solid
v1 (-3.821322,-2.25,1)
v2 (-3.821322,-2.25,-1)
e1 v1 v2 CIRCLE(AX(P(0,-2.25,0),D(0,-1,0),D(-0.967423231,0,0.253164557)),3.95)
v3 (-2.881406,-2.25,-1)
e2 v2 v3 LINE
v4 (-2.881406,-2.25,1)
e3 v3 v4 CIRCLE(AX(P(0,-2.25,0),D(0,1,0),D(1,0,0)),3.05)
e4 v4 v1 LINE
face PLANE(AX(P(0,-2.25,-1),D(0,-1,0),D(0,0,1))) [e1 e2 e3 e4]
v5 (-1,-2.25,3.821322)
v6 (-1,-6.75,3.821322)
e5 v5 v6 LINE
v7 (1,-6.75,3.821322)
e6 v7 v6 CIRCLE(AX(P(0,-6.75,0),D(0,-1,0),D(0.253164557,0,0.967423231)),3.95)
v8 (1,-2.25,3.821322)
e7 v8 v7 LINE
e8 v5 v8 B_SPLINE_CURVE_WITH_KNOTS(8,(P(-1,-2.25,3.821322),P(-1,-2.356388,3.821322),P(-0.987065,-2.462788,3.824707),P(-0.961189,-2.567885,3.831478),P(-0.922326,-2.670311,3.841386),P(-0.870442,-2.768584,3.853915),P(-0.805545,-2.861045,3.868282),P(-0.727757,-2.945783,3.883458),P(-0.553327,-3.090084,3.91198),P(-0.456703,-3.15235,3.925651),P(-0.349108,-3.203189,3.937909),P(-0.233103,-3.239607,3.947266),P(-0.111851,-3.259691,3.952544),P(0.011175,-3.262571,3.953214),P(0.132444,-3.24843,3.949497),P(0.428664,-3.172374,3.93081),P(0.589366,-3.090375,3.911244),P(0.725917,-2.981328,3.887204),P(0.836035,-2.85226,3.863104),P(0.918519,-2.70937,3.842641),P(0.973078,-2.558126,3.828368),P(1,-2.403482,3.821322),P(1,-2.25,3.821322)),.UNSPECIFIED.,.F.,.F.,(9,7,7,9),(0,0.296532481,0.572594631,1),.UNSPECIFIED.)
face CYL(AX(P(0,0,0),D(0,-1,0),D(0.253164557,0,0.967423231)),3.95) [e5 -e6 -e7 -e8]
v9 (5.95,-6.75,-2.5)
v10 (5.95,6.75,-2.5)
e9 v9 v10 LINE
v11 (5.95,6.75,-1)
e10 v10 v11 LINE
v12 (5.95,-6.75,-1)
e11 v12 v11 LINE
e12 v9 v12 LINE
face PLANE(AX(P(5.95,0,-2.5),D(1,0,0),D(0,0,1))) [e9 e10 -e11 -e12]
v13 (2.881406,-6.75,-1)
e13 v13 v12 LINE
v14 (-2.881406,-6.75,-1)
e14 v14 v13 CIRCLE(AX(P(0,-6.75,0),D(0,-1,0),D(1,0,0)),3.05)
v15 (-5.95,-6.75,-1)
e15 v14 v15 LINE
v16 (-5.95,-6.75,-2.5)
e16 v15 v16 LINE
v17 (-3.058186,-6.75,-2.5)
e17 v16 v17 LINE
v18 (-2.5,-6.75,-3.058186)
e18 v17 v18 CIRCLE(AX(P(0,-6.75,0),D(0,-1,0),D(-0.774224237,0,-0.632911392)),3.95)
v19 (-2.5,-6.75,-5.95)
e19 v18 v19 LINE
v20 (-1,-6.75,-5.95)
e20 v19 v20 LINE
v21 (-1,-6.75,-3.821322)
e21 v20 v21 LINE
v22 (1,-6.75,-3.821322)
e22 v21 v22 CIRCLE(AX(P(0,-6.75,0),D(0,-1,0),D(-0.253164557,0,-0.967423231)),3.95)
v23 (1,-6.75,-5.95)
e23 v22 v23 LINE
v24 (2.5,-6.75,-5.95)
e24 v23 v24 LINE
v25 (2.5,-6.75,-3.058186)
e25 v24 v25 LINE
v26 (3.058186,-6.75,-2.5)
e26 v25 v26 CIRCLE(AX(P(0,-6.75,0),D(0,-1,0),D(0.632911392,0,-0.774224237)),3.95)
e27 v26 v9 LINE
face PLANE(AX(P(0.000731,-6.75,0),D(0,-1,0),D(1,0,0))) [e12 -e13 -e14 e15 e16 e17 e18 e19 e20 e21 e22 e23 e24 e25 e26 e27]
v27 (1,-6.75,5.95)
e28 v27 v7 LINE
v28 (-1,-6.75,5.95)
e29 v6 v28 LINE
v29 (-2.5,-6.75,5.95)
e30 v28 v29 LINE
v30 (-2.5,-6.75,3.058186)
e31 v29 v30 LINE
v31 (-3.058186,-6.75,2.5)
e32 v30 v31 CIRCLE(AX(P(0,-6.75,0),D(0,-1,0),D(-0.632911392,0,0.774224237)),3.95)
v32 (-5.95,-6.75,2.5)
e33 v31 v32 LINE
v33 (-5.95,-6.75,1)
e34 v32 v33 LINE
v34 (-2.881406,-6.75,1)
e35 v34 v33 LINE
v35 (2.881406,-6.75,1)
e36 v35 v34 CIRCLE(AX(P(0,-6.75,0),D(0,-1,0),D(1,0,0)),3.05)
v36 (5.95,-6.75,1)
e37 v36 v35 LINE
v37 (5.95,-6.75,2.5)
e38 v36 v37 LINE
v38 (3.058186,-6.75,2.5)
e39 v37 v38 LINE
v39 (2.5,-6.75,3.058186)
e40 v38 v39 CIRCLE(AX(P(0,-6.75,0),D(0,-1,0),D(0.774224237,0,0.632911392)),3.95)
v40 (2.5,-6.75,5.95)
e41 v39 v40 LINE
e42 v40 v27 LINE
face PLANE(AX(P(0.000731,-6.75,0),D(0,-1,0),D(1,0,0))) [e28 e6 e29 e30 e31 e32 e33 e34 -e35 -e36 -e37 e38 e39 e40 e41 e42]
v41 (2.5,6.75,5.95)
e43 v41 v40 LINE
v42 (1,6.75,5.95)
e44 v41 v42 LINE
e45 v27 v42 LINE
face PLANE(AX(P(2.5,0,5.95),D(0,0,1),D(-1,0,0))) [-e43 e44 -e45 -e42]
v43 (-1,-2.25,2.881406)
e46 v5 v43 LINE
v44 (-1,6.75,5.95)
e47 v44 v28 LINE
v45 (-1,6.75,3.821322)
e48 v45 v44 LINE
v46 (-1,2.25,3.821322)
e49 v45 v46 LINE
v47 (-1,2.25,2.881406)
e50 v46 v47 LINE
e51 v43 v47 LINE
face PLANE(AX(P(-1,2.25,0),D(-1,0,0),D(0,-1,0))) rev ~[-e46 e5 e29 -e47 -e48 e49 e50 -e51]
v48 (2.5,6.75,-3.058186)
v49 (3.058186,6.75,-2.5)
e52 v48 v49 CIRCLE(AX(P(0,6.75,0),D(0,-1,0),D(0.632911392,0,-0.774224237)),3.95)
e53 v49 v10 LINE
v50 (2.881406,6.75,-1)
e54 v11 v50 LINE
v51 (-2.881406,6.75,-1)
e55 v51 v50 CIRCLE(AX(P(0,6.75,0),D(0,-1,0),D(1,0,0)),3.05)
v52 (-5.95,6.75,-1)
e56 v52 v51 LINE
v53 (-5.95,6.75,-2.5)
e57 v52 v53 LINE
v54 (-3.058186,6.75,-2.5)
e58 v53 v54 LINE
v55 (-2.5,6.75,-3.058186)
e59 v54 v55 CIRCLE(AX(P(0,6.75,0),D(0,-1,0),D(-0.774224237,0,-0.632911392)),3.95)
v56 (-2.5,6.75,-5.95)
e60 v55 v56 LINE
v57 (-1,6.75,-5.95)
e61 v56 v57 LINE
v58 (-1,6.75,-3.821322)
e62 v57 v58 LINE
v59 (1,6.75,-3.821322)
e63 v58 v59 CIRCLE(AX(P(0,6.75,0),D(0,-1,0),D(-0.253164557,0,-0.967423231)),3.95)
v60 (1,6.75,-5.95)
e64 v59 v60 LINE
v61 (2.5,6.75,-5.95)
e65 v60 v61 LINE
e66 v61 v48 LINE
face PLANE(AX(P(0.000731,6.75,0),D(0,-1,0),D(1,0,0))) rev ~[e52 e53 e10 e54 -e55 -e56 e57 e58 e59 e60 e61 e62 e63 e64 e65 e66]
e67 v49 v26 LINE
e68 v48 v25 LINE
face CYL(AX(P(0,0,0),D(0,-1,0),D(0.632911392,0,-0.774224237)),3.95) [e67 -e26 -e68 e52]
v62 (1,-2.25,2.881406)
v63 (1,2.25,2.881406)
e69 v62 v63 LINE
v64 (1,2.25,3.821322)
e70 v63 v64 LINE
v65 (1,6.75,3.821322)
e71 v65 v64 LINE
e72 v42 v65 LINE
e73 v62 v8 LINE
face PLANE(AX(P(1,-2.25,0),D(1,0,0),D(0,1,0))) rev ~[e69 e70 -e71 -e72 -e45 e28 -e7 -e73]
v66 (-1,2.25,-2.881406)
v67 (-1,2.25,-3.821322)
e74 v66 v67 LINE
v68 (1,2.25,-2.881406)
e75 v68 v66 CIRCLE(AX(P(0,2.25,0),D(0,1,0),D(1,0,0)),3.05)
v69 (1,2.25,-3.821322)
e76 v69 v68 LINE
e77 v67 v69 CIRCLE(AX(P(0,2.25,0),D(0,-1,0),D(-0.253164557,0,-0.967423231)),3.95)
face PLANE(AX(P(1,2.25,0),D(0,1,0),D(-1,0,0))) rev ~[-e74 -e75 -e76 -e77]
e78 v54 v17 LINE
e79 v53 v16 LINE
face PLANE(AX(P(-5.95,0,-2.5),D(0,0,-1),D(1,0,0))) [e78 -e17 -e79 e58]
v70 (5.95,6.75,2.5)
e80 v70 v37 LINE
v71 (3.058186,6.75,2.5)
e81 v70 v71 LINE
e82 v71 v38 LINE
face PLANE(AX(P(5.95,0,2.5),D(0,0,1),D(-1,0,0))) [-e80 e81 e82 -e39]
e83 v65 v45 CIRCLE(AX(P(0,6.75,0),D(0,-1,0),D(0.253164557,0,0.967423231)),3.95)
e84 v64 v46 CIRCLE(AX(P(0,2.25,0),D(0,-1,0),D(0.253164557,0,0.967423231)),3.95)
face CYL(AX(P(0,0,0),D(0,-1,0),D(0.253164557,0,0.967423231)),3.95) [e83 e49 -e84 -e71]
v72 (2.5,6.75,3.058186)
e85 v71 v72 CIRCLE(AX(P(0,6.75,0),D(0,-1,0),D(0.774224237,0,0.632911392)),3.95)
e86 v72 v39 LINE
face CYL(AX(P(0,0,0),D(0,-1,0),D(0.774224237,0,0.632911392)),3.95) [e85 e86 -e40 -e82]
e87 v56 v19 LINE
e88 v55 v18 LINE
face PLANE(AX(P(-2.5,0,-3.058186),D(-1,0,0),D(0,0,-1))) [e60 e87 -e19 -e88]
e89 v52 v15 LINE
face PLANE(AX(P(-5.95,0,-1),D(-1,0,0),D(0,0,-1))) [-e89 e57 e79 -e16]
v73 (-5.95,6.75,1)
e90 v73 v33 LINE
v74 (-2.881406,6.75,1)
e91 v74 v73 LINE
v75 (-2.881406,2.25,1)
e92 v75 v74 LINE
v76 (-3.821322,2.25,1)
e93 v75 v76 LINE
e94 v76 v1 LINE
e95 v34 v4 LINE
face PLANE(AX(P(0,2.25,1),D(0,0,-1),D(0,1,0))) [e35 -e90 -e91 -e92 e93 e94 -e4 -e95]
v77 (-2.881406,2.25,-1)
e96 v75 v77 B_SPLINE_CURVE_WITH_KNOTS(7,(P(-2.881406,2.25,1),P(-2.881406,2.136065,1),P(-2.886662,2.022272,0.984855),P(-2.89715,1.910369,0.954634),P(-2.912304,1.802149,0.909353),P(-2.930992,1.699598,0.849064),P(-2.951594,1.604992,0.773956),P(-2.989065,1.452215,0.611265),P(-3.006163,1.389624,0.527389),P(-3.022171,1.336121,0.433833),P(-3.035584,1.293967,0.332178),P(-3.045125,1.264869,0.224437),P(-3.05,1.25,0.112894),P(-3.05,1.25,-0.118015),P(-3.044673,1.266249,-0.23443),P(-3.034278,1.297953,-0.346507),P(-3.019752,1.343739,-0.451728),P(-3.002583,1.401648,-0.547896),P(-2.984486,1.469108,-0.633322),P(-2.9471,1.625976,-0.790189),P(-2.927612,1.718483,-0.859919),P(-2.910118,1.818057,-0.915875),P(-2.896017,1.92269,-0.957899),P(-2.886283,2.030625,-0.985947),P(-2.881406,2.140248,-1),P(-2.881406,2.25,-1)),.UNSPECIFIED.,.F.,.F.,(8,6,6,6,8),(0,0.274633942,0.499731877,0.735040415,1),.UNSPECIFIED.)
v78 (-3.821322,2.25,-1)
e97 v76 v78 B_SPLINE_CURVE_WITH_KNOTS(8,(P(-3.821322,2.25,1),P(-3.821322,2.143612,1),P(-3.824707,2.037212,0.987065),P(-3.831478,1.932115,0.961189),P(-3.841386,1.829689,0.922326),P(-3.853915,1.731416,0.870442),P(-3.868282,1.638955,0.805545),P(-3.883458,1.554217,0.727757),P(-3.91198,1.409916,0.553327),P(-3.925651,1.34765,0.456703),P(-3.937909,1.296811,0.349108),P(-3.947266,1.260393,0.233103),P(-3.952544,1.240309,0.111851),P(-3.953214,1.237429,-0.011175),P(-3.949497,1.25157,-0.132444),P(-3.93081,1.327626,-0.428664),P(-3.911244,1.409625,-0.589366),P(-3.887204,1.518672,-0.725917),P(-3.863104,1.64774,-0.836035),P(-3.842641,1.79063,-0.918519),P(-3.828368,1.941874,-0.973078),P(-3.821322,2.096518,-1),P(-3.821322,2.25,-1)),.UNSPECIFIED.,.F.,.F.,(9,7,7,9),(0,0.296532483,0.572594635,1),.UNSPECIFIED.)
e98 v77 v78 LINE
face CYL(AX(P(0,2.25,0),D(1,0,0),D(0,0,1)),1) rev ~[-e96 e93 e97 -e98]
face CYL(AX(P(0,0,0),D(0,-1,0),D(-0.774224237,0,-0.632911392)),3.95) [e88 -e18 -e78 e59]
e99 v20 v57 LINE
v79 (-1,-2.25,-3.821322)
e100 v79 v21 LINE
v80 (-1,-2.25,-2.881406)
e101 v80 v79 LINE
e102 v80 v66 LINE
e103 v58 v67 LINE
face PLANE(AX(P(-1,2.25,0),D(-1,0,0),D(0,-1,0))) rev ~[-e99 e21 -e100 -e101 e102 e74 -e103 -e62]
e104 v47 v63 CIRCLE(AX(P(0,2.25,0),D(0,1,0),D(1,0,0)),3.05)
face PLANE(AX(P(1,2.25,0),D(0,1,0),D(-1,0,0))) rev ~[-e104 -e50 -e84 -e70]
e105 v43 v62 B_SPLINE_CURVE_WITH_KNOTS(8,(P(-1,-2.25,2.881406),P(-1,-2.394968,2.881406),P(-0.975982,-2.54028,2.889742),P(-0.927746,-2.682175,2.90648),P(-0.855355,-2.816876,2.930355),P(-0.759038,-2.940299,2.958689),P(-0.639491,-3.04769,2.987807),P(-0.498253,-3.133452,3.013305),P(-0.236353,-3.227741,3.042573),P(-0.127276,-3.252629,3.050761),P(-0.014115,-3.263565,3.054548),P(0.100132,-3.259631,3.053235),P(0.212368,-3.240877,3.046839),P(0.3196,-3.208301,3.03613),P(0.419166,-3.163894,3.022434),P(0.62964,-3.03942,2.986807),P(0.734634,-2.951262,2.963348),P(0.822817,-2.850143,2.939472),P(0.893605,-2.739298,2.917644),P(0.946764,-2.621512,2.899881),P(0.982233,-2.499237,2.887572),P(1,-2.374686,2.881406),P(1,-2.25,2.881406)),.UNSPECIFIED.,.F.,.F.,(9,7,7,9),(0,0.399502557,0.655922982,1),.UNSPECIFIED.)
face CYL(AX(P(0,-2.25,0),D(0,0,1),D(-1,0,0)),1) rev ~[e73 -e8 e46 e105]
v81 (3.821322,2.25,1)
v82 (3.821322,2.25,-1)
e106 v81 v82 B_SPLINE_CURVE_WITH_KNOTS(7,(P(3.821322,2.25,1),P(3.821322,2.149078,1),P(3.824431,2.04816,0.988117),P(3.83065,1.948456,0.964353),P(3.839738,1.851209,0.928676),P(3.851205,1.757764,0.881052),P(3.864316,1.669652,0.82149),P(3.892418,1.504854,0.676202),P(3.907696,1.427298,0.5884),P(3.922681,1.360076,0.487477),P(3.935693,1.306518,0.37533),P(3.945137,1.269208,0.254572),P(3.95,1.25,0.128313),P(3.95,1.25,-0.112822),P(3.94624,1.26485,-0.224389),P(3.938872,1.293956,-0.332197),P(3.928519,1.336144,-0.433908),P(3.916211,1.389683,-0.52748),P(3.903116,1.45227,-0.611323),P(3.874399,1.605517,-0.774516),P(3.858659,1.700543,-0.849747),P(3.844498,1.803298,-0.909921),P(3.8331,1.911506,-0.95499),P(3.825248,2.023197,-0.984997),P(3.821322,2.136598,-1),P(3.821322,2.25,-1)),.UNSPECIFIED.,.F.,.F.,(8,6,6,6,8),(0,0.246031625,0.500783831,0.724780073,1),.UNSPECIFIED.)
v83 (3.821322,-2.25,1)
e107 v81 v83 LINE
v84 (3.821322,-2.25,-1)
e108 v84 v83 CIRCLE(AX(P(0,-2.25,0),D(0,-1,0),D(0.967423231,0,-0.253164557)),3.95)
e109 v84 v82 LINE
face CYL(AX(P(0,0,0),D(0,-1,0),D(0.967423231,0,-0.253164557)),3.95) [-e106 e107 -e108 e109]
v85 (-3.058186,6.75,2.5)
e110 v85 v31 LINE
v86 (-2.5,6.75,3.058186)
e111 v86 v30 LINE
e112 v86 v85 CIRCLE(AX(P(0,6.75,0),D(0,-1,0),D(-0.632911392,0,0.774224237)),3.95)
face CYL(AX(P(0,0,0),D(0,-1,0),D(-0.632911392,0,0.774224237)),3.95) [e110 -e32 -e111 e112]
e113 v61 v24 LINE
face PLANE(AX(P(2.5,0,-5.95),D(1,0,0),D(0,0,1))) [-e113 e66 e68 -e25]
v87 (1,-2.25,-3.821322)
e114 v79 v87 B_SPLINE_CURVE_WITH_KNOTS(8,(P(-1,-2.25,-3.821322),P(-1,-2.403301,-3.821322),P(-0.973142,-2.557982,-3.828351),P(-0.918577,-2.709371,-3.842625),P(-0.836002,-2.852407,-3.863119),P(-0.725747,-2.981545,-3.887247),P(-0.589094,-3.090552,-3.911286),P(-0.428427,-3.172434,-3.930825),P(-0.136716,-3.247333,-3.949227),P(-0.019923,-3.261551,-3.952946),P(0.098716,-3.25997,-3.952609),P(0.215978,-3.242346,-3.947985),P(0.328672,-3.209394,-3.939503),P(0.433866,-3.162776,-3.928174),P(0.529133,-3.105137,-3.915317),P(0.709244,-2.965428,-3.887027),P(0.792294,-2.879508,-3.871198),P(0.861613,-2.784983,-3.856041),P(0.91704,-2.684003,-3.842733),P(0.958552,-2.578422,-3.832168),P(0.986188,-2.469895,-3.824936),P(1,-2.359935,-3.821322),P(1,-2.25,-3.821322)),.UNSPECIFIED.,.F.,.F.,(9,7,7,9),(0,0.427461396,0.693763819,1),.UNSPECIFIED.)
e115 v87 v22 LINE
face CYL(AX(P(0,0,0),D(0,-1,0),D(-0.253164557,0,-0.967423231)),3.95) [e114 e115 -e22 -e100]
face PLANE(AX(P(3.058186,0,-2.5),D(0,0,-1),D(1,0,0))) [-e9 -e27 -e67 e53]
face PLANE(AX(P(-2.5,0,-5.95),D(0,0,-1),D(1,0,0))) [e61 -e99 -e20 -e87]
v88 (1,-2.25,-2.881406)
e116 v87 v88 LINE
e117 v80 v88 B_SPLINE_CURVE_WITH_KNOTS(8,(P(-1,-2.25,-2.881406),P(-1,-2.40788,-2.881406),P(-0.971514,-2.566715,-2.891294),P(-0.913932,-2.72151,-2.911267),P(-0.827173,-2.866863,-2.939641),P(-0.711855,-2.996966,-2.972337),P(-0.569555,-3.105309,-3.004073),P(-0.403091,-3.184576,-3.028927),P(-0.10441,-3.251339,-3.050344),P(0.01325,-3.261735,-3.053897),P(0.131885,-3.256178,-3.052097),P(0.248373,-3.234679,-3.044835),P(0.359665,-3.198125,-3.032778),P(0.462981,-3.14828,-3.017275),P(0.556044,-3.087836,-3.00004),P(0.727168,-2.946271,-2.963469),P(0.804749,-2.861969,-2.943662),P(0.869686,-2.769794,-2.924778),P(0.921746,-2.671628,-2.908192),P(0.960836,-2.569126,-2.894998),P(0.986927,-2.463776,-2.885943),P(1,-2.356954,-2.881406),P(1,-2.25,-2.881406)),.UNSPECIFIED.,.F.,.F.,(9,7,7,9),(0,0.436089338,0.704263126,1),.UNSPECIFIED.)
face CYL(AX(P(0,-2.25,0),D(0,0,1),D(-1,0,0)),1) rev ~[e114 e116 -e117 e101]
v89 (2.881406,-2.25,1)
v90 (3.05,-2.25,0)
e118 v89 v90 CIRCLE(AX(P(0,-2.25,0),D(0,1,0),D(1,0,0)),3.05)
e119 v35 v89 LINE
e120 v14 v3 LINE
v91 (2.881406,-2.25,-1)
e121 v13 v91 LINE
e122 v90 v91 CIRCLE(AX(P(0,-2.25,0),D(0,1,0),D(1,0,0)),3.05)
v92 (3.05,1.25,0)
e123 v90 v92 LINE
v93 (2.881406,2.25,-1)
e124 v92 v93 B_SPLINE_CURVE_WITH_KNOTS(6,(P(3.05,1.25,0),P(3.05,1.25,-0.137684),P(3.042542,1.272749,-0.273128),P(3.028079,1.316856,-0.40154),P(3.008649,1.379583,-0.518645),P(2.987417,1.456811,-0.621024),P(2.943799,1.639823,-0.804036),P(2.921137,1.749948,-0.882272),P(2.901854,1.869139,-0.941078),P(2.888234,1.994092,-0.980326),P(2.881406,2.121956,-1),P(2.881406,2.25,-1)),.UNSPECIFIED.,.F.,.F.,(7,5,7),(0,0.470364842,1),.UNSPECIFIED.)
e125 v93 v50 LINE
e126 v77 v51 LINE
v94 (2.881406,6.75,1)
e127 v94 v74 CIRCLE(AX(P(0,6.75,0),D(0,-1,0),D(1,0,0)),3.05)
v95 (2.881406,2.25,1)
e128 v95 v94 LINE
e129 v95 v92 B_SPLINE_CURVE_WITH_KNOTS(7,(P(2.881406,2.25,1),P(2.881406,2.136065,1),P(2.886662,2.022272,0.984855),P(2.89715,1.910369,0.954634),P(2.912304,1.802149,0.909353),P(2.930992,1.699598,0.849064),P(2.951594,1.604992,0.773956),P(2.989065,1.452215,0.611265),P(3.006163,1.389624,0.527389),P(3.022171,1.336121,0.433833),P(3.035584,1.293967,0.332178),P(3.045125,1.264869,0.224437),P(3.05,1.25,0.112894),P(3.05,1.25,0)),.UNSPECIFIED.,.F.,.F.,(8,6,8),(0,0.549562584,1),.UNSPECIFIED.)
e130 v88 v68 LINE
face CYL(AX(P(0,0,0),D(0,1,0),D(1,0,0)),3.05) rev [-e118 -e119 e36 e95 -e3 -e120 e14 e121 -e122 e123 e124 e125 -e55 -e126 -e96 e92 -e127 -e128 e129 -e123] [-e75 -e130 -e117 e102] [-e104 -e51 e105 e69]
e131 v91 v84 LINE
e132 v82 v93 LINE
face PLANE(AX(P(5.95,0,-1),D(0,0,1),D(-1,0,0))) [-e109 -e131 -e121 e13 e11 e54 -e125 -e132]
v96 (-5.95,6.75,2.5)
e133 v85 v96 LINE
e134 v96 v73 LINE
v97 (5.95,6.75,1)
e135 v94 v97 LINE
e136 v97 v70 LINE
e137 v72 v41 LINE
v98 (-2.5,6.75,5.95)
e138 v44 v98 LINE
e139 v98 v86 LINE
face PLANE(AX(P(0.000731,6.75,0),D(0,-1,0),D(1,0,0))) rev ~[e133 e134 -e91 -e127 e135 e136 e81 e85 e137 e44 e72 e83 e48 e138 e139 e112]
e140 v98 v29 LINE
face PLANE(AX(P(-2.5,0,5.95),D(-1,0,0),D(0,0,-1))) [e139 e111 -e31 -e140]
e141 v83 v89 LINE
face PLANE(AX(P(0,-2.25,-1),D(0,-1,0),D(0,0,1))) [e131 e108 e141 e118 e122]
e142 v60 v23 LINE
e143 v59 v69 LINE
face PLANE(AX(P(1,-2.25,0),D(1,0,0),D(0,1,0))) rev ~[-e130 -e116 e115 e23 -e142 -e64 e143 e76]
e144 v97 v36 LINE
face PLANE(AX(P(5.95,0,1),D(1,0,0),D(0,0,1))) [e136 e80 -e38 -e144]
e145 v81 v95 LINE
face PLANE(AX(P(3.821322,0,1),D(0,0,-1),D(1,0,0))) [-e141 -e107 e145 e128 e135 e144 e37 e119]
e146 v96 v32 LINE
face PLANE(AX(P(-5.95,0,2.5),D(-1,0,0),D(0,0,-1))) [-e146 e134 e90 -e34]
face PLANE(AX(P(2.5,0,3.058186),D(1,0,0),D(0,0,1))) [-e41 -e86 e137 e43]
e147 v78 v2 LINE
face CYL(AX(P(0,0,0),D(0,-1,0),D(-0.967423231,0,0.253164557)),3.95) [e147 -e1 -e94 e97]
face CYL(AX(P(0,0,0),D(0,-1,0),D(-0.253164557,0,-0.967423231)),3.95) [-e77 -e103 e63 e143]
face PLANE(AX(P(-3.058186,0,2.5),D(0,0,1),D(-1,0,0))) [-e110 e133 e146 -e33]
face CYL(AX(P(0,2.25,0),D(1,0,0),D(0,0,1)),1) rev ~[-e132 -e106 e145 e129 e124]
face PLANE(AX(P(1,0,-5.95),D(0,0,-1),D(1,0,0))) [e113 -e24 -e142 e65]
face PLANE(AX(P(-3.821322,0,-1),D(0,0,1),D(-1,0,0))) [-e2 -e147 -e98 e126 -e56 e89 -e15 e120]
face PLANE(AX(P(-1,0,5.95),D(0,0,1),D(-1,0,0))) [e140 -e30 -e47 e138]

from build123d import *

# Parameters (mm, degrees)
F3_R     = 3.05
F4_DEPTH = 6.75
F5_W     = 4.5
F5_H     = 2
F6_DEPTH = 5
F8_DEPTH = 12.5


with BuildPart() as f4:
    # F3 (on Front) → F4 (new body, symmetric)
    with BuildSketch(Plane.XZ):
        with BuildLine():
            ThreePointArc((3.8213217609, -1), (3.9176983648, -0.5041225271), (3.95, 0))
            ThreePointArc((3.95, 0), (3.9176983648, 0.5041225271), (3.8213217609, 1))
            Line((3.8213217609, 1), (3.05, 1))
            Line((3.05, 1), (3.05, 2.5))
            Line((3.05, 2.5), (3.0581857367, 2.5))
            ThreePointArc((3.0581857367, 2.5), (2.7930717857, 2.7930717857), (2.5, 3.0581857367))
            Line((2.5, 3.0581857367), (2.5, 3.05))
            Line((2.5, 3.05), (1, 3.05))
            Line((1, 3.05), (1, 3.8213217609))
            ThreePointArc((1, 3.8213217609), (0, 3.95), (-1, 3.8213217609))
            Line((-1, 3.8213217609), (-1, 3.05))
            Line((-1, 3.05), (-2.5, 3.05))
            Line((-2.5, 3.05), (-2.5, 3.0581857367))
            ThreePointArc((-2.5, 3.0581857367), (-2.7930717857, 2.7930717857), (-3.0581857367, 2.5))
            Line((-3.0581857367, 2.5), (-3.05, 2.5))
            Line((-3.05, 2.5), (-3.05, 1))
            Line((-3.05, 1), (-3.8213217609, 1))
            ThreePointArc((-3.8213217609, 1), (-3.95, 0), (-3.8213217609, -1))
            Line((-3.8213217609, -1), (-3.05, -1))
            Line((-3.05, -1), (-3.05, -2.5))
            Line((-3.05, -2.5), (-3.0581857367, -2.5))
            ThreePointArc((-3.0581857367, -2.5), (-2.7930717857, -2.7930717857), (-2.5, -3.0581857367))
            Line((-2.5, -3.0581857367), (-2.5, -3.05))
            Line((-2.5, -3.05), (-1, -3.05))
            Line((-1, -3.05), (-1, -3.8213217609))
            ThreePointArc((-1, -3.8213217609), (0, -3.95), (1, -3.8213217609))
            Line((1, -3.8213217609), (1, -3.05))
            Line((1, -3.05), (2.5, -3.05))
            Line((2.5, -3.05), (2.5, -3.0581857367))
            ThreePointArc((2.5, -3.0581857367), (2.7930717857, -2.7930717857), (3.0581857367, -2.5))
            Line((3.0581857367, -2.5), (3.05, -2.5))
            Line((3.05, -2.5), (3.05, -1))
            Line((3.05, -1), (3.8213217609, -1))
        make_face()
        Circle(F3_R, mode=Mode.SUBTRACT)
        with BuildLine():
            Line((3.05, 1), (3.8213217609, 1))
            ThreePointArc((3.8213217609, 1), (3.5205689671, 1.7911153363), (3.0581857367, 2.5))
            Line((3.0581857367, 2.5), (3.05, 2.5))
            Line((3.05, 2.5), (3.05, 1))
        make_face()
        with BuildLine():
            ThreePointArc((3.0581857367, 2.5), (3.5205689671, 1.7911153363), (3.8213217609, 1))
            Line((3.8213217609, 1), (5.95, 1))
            Line((5.95, 1), (5.95, 2.5))
            Line((5.95, 2.5), (3.0581857367, 2.5))
        make_face()
        with BuildLine():
            Line((5.95, -1), (3.8213217609, -1))
            ThreePointArc((3.8213217609, -1), (3.5205689671, -1.7911153363), (3.0581857367, -2.5))
            Line((3.0581857367, -2.5), (5.95, -2.5))
            Line((5.95, -2.5), (5.95, -1))
        make_face()
        with BuildLine():
            ThreePointArc((3.0581857367, -2.5), (3.5205689671, -1.7911153363), (3.8213217609, -1))
            Line((3.8213217609, -1), (3.05, -1))
            Line((3.05, -1), (3.05, -2.5))
            Line((3.05, -2.5), (3.0581857367, -2.5))
        make_face()
        with BuildLine():
            Line((2.5, 3.05), (2.5, 3.0581857367))
            ThreePointArc((2.5, 3.0581857367), (1.7911153363, 3.5205689671), (1, 3.8213217609))
            Line((1, 3.8213217609), (1, 3.05))
            Line((1, 3.05), (2.5, 3.05))
        make_face()
        with BuildLine():
            ThreePointArc((1, 3.8213217609), (1.7911153363, 3.5205689671), (2.5, 3.0581857367))
            Line((2.5, 3.0581857367), (2.5, 5.95))
            Line((2.5, 5.95), (1, 5.95))
            Line((1, 5.95), (1, 3.8213217609))
        make_face()
        with BuildLine():
            Line((2.5, -5.95), (2.5, -3.0581857367))
            ThreePointArc((2.5, -3.0581857367), (1.7911153363, -3.5205689671), (1, -3.8213217609))
            Line((1, -3.8213217609), (1, -5.95))
            Line((1, -5.95), (2.5, -5.95))
        make_face()
        with BuildLine():
            ThreePointArc((1, -3.8213217609), (1.7911153363, -3.5205689671), (2.5, -3.0581857367))
            Line((2.5, -3.0581857367), (2.5, -3.05))
            Line((2.5, -3.05), (1, -3.05))
            Line((1, -3.05), (1, -3.8213217609))
        make_face()
        with BuildLine():
            Line((-1, 3.05), (-1, 3.8213217609))
            ThreePointArc((-1, 3.8213217609), (-1.7911153363, 3.5205689671), (-2.5, 3.0581857367))
            Line((-2.5, 3.0581857367), (-2.5, 3.05))
            Line((-2.5, 3.05), (-1, 3.05))
        make_face()
        with BuildLine():
            ThreePointArc((-2.5, 3.0581857367), (-1.7911153363, 3.5205689671), (-1, 3.8213217609))
            Line((-1, 3.8213217609), (-1, 5.95))
            Line((-1, 5.95), (-2.5, 5.95))
            Line((-2.5, 5.95), (-2.5, 3.0581857367))
        make_face()
        with BuildLine():
            Line((-1, -5.95), (-1, -3.8213217609))
            ThreePointArc((-1, -3.8213217609), (-1.7911153363, -3.5205689671), (-2.5, -3.0581857367))
            Line((-2.5, -3.0581857367), (-2.5, -5.95))
            Line((-2.5, -5.95), (-1, -5.95))
        make_face()
        with BuildLine():
            ThreePointArc((-2.5, -3.0581857367), (-1.7911153363, -3.5205689671), (-1, -3.8213217609))
            Line((-1, -3.8213217609), (-1, -3.05))
            Line((-1, -3.05), (-2.5, -3.05))
            Line((-2.5, -3.05), (-2.5, -3.0581857367))
        make_face()
        with BuildLine():
            Line((-3.05, 2.5), (-3.0581857367, 2.5))
            ThreePointArc((-3.0581857367, 2.5), (-3.5205689671, 1.7911153363), (-3.8213217609, 1))
            Line((-3.8213217609, 1), (-3.05, 1))
            Line((-3.05, 1), (-3.05, 2.5))
        make_face()
        with BuildLine():
            ThreePointArc((-3.8213217609, 1), (-3.5205689671, 1.7911153363), (-3.0581857367, 2.5))
            Line((-3.0581857367, 2.5), (-5.95, 2.5))
            Line((-5.95, 2.5), (-5.95, 1))
            Line((-5.95, 1), (-3.8213217609, 1))
        make_face()
        with BuildLine():
            Line((-5.95, -2.5), (-3.0581857367, -2.5))
            ThreePointArc((-3.0581857367, -2.5), (-3.5205689671, -1.7911153363), (-3.8213217609, -1))
            Line((-3.8213217609, -1), (-5.95, -1))
            Line((-5.95, -1), (-5.95, -2.5))
        make_face()
        with BuildLine():
            ThreePointArc((-3.8213217609, -1), (-3.5205689671, -1.7911153363), (-3.0581857367, -2.5))
            Line((-3.0581857367, -2.5), (-3.05, -2.5))
            Line((-3.05, -2.5), (-3.05, -1))
            Line((-3.05, -1), (-3.8213217609, -1))
        make_face()
    extrude(amount=F4_DEPTH, both=True)

    # F5 (on Right) → F6 (cut, symmetric)
    with BuildSketch(Plane.YZ):
        with Locations((-4.5, 0)):
            Rectangle(F5_W, F5_H)
        with Locations((4.5, 0)):
            Rectangle(F5_W, F5_H)
        with BuildLine():
            ThreePointArc((2.25, 1), (1.25, 0), (2.25, -1))
            Line((2.25, -1), (2.25, 1))
        make_face()
    extrude(amount=F6_DEPTH, both=True, mode=Mode.SUBTRACT)

    # F7 (on Top) → F8 (cut, symmetric)
    with BuildSketch(Plane.XY):
        with BuildLine():
            ThreePointArc((-1, -2.25), (0, -3.25), (1, -2.25))
            Line((1, -2.25), (1, 2.25))
            Line((1, 2.25), (-1, 2.25))
            Line((-1, 2.25), (-1, -2.25))
        make_face()
    extrude(amount=F8_DEPTH, both=True, mode=Mode.SUBTRACT)


solid = f4.part
